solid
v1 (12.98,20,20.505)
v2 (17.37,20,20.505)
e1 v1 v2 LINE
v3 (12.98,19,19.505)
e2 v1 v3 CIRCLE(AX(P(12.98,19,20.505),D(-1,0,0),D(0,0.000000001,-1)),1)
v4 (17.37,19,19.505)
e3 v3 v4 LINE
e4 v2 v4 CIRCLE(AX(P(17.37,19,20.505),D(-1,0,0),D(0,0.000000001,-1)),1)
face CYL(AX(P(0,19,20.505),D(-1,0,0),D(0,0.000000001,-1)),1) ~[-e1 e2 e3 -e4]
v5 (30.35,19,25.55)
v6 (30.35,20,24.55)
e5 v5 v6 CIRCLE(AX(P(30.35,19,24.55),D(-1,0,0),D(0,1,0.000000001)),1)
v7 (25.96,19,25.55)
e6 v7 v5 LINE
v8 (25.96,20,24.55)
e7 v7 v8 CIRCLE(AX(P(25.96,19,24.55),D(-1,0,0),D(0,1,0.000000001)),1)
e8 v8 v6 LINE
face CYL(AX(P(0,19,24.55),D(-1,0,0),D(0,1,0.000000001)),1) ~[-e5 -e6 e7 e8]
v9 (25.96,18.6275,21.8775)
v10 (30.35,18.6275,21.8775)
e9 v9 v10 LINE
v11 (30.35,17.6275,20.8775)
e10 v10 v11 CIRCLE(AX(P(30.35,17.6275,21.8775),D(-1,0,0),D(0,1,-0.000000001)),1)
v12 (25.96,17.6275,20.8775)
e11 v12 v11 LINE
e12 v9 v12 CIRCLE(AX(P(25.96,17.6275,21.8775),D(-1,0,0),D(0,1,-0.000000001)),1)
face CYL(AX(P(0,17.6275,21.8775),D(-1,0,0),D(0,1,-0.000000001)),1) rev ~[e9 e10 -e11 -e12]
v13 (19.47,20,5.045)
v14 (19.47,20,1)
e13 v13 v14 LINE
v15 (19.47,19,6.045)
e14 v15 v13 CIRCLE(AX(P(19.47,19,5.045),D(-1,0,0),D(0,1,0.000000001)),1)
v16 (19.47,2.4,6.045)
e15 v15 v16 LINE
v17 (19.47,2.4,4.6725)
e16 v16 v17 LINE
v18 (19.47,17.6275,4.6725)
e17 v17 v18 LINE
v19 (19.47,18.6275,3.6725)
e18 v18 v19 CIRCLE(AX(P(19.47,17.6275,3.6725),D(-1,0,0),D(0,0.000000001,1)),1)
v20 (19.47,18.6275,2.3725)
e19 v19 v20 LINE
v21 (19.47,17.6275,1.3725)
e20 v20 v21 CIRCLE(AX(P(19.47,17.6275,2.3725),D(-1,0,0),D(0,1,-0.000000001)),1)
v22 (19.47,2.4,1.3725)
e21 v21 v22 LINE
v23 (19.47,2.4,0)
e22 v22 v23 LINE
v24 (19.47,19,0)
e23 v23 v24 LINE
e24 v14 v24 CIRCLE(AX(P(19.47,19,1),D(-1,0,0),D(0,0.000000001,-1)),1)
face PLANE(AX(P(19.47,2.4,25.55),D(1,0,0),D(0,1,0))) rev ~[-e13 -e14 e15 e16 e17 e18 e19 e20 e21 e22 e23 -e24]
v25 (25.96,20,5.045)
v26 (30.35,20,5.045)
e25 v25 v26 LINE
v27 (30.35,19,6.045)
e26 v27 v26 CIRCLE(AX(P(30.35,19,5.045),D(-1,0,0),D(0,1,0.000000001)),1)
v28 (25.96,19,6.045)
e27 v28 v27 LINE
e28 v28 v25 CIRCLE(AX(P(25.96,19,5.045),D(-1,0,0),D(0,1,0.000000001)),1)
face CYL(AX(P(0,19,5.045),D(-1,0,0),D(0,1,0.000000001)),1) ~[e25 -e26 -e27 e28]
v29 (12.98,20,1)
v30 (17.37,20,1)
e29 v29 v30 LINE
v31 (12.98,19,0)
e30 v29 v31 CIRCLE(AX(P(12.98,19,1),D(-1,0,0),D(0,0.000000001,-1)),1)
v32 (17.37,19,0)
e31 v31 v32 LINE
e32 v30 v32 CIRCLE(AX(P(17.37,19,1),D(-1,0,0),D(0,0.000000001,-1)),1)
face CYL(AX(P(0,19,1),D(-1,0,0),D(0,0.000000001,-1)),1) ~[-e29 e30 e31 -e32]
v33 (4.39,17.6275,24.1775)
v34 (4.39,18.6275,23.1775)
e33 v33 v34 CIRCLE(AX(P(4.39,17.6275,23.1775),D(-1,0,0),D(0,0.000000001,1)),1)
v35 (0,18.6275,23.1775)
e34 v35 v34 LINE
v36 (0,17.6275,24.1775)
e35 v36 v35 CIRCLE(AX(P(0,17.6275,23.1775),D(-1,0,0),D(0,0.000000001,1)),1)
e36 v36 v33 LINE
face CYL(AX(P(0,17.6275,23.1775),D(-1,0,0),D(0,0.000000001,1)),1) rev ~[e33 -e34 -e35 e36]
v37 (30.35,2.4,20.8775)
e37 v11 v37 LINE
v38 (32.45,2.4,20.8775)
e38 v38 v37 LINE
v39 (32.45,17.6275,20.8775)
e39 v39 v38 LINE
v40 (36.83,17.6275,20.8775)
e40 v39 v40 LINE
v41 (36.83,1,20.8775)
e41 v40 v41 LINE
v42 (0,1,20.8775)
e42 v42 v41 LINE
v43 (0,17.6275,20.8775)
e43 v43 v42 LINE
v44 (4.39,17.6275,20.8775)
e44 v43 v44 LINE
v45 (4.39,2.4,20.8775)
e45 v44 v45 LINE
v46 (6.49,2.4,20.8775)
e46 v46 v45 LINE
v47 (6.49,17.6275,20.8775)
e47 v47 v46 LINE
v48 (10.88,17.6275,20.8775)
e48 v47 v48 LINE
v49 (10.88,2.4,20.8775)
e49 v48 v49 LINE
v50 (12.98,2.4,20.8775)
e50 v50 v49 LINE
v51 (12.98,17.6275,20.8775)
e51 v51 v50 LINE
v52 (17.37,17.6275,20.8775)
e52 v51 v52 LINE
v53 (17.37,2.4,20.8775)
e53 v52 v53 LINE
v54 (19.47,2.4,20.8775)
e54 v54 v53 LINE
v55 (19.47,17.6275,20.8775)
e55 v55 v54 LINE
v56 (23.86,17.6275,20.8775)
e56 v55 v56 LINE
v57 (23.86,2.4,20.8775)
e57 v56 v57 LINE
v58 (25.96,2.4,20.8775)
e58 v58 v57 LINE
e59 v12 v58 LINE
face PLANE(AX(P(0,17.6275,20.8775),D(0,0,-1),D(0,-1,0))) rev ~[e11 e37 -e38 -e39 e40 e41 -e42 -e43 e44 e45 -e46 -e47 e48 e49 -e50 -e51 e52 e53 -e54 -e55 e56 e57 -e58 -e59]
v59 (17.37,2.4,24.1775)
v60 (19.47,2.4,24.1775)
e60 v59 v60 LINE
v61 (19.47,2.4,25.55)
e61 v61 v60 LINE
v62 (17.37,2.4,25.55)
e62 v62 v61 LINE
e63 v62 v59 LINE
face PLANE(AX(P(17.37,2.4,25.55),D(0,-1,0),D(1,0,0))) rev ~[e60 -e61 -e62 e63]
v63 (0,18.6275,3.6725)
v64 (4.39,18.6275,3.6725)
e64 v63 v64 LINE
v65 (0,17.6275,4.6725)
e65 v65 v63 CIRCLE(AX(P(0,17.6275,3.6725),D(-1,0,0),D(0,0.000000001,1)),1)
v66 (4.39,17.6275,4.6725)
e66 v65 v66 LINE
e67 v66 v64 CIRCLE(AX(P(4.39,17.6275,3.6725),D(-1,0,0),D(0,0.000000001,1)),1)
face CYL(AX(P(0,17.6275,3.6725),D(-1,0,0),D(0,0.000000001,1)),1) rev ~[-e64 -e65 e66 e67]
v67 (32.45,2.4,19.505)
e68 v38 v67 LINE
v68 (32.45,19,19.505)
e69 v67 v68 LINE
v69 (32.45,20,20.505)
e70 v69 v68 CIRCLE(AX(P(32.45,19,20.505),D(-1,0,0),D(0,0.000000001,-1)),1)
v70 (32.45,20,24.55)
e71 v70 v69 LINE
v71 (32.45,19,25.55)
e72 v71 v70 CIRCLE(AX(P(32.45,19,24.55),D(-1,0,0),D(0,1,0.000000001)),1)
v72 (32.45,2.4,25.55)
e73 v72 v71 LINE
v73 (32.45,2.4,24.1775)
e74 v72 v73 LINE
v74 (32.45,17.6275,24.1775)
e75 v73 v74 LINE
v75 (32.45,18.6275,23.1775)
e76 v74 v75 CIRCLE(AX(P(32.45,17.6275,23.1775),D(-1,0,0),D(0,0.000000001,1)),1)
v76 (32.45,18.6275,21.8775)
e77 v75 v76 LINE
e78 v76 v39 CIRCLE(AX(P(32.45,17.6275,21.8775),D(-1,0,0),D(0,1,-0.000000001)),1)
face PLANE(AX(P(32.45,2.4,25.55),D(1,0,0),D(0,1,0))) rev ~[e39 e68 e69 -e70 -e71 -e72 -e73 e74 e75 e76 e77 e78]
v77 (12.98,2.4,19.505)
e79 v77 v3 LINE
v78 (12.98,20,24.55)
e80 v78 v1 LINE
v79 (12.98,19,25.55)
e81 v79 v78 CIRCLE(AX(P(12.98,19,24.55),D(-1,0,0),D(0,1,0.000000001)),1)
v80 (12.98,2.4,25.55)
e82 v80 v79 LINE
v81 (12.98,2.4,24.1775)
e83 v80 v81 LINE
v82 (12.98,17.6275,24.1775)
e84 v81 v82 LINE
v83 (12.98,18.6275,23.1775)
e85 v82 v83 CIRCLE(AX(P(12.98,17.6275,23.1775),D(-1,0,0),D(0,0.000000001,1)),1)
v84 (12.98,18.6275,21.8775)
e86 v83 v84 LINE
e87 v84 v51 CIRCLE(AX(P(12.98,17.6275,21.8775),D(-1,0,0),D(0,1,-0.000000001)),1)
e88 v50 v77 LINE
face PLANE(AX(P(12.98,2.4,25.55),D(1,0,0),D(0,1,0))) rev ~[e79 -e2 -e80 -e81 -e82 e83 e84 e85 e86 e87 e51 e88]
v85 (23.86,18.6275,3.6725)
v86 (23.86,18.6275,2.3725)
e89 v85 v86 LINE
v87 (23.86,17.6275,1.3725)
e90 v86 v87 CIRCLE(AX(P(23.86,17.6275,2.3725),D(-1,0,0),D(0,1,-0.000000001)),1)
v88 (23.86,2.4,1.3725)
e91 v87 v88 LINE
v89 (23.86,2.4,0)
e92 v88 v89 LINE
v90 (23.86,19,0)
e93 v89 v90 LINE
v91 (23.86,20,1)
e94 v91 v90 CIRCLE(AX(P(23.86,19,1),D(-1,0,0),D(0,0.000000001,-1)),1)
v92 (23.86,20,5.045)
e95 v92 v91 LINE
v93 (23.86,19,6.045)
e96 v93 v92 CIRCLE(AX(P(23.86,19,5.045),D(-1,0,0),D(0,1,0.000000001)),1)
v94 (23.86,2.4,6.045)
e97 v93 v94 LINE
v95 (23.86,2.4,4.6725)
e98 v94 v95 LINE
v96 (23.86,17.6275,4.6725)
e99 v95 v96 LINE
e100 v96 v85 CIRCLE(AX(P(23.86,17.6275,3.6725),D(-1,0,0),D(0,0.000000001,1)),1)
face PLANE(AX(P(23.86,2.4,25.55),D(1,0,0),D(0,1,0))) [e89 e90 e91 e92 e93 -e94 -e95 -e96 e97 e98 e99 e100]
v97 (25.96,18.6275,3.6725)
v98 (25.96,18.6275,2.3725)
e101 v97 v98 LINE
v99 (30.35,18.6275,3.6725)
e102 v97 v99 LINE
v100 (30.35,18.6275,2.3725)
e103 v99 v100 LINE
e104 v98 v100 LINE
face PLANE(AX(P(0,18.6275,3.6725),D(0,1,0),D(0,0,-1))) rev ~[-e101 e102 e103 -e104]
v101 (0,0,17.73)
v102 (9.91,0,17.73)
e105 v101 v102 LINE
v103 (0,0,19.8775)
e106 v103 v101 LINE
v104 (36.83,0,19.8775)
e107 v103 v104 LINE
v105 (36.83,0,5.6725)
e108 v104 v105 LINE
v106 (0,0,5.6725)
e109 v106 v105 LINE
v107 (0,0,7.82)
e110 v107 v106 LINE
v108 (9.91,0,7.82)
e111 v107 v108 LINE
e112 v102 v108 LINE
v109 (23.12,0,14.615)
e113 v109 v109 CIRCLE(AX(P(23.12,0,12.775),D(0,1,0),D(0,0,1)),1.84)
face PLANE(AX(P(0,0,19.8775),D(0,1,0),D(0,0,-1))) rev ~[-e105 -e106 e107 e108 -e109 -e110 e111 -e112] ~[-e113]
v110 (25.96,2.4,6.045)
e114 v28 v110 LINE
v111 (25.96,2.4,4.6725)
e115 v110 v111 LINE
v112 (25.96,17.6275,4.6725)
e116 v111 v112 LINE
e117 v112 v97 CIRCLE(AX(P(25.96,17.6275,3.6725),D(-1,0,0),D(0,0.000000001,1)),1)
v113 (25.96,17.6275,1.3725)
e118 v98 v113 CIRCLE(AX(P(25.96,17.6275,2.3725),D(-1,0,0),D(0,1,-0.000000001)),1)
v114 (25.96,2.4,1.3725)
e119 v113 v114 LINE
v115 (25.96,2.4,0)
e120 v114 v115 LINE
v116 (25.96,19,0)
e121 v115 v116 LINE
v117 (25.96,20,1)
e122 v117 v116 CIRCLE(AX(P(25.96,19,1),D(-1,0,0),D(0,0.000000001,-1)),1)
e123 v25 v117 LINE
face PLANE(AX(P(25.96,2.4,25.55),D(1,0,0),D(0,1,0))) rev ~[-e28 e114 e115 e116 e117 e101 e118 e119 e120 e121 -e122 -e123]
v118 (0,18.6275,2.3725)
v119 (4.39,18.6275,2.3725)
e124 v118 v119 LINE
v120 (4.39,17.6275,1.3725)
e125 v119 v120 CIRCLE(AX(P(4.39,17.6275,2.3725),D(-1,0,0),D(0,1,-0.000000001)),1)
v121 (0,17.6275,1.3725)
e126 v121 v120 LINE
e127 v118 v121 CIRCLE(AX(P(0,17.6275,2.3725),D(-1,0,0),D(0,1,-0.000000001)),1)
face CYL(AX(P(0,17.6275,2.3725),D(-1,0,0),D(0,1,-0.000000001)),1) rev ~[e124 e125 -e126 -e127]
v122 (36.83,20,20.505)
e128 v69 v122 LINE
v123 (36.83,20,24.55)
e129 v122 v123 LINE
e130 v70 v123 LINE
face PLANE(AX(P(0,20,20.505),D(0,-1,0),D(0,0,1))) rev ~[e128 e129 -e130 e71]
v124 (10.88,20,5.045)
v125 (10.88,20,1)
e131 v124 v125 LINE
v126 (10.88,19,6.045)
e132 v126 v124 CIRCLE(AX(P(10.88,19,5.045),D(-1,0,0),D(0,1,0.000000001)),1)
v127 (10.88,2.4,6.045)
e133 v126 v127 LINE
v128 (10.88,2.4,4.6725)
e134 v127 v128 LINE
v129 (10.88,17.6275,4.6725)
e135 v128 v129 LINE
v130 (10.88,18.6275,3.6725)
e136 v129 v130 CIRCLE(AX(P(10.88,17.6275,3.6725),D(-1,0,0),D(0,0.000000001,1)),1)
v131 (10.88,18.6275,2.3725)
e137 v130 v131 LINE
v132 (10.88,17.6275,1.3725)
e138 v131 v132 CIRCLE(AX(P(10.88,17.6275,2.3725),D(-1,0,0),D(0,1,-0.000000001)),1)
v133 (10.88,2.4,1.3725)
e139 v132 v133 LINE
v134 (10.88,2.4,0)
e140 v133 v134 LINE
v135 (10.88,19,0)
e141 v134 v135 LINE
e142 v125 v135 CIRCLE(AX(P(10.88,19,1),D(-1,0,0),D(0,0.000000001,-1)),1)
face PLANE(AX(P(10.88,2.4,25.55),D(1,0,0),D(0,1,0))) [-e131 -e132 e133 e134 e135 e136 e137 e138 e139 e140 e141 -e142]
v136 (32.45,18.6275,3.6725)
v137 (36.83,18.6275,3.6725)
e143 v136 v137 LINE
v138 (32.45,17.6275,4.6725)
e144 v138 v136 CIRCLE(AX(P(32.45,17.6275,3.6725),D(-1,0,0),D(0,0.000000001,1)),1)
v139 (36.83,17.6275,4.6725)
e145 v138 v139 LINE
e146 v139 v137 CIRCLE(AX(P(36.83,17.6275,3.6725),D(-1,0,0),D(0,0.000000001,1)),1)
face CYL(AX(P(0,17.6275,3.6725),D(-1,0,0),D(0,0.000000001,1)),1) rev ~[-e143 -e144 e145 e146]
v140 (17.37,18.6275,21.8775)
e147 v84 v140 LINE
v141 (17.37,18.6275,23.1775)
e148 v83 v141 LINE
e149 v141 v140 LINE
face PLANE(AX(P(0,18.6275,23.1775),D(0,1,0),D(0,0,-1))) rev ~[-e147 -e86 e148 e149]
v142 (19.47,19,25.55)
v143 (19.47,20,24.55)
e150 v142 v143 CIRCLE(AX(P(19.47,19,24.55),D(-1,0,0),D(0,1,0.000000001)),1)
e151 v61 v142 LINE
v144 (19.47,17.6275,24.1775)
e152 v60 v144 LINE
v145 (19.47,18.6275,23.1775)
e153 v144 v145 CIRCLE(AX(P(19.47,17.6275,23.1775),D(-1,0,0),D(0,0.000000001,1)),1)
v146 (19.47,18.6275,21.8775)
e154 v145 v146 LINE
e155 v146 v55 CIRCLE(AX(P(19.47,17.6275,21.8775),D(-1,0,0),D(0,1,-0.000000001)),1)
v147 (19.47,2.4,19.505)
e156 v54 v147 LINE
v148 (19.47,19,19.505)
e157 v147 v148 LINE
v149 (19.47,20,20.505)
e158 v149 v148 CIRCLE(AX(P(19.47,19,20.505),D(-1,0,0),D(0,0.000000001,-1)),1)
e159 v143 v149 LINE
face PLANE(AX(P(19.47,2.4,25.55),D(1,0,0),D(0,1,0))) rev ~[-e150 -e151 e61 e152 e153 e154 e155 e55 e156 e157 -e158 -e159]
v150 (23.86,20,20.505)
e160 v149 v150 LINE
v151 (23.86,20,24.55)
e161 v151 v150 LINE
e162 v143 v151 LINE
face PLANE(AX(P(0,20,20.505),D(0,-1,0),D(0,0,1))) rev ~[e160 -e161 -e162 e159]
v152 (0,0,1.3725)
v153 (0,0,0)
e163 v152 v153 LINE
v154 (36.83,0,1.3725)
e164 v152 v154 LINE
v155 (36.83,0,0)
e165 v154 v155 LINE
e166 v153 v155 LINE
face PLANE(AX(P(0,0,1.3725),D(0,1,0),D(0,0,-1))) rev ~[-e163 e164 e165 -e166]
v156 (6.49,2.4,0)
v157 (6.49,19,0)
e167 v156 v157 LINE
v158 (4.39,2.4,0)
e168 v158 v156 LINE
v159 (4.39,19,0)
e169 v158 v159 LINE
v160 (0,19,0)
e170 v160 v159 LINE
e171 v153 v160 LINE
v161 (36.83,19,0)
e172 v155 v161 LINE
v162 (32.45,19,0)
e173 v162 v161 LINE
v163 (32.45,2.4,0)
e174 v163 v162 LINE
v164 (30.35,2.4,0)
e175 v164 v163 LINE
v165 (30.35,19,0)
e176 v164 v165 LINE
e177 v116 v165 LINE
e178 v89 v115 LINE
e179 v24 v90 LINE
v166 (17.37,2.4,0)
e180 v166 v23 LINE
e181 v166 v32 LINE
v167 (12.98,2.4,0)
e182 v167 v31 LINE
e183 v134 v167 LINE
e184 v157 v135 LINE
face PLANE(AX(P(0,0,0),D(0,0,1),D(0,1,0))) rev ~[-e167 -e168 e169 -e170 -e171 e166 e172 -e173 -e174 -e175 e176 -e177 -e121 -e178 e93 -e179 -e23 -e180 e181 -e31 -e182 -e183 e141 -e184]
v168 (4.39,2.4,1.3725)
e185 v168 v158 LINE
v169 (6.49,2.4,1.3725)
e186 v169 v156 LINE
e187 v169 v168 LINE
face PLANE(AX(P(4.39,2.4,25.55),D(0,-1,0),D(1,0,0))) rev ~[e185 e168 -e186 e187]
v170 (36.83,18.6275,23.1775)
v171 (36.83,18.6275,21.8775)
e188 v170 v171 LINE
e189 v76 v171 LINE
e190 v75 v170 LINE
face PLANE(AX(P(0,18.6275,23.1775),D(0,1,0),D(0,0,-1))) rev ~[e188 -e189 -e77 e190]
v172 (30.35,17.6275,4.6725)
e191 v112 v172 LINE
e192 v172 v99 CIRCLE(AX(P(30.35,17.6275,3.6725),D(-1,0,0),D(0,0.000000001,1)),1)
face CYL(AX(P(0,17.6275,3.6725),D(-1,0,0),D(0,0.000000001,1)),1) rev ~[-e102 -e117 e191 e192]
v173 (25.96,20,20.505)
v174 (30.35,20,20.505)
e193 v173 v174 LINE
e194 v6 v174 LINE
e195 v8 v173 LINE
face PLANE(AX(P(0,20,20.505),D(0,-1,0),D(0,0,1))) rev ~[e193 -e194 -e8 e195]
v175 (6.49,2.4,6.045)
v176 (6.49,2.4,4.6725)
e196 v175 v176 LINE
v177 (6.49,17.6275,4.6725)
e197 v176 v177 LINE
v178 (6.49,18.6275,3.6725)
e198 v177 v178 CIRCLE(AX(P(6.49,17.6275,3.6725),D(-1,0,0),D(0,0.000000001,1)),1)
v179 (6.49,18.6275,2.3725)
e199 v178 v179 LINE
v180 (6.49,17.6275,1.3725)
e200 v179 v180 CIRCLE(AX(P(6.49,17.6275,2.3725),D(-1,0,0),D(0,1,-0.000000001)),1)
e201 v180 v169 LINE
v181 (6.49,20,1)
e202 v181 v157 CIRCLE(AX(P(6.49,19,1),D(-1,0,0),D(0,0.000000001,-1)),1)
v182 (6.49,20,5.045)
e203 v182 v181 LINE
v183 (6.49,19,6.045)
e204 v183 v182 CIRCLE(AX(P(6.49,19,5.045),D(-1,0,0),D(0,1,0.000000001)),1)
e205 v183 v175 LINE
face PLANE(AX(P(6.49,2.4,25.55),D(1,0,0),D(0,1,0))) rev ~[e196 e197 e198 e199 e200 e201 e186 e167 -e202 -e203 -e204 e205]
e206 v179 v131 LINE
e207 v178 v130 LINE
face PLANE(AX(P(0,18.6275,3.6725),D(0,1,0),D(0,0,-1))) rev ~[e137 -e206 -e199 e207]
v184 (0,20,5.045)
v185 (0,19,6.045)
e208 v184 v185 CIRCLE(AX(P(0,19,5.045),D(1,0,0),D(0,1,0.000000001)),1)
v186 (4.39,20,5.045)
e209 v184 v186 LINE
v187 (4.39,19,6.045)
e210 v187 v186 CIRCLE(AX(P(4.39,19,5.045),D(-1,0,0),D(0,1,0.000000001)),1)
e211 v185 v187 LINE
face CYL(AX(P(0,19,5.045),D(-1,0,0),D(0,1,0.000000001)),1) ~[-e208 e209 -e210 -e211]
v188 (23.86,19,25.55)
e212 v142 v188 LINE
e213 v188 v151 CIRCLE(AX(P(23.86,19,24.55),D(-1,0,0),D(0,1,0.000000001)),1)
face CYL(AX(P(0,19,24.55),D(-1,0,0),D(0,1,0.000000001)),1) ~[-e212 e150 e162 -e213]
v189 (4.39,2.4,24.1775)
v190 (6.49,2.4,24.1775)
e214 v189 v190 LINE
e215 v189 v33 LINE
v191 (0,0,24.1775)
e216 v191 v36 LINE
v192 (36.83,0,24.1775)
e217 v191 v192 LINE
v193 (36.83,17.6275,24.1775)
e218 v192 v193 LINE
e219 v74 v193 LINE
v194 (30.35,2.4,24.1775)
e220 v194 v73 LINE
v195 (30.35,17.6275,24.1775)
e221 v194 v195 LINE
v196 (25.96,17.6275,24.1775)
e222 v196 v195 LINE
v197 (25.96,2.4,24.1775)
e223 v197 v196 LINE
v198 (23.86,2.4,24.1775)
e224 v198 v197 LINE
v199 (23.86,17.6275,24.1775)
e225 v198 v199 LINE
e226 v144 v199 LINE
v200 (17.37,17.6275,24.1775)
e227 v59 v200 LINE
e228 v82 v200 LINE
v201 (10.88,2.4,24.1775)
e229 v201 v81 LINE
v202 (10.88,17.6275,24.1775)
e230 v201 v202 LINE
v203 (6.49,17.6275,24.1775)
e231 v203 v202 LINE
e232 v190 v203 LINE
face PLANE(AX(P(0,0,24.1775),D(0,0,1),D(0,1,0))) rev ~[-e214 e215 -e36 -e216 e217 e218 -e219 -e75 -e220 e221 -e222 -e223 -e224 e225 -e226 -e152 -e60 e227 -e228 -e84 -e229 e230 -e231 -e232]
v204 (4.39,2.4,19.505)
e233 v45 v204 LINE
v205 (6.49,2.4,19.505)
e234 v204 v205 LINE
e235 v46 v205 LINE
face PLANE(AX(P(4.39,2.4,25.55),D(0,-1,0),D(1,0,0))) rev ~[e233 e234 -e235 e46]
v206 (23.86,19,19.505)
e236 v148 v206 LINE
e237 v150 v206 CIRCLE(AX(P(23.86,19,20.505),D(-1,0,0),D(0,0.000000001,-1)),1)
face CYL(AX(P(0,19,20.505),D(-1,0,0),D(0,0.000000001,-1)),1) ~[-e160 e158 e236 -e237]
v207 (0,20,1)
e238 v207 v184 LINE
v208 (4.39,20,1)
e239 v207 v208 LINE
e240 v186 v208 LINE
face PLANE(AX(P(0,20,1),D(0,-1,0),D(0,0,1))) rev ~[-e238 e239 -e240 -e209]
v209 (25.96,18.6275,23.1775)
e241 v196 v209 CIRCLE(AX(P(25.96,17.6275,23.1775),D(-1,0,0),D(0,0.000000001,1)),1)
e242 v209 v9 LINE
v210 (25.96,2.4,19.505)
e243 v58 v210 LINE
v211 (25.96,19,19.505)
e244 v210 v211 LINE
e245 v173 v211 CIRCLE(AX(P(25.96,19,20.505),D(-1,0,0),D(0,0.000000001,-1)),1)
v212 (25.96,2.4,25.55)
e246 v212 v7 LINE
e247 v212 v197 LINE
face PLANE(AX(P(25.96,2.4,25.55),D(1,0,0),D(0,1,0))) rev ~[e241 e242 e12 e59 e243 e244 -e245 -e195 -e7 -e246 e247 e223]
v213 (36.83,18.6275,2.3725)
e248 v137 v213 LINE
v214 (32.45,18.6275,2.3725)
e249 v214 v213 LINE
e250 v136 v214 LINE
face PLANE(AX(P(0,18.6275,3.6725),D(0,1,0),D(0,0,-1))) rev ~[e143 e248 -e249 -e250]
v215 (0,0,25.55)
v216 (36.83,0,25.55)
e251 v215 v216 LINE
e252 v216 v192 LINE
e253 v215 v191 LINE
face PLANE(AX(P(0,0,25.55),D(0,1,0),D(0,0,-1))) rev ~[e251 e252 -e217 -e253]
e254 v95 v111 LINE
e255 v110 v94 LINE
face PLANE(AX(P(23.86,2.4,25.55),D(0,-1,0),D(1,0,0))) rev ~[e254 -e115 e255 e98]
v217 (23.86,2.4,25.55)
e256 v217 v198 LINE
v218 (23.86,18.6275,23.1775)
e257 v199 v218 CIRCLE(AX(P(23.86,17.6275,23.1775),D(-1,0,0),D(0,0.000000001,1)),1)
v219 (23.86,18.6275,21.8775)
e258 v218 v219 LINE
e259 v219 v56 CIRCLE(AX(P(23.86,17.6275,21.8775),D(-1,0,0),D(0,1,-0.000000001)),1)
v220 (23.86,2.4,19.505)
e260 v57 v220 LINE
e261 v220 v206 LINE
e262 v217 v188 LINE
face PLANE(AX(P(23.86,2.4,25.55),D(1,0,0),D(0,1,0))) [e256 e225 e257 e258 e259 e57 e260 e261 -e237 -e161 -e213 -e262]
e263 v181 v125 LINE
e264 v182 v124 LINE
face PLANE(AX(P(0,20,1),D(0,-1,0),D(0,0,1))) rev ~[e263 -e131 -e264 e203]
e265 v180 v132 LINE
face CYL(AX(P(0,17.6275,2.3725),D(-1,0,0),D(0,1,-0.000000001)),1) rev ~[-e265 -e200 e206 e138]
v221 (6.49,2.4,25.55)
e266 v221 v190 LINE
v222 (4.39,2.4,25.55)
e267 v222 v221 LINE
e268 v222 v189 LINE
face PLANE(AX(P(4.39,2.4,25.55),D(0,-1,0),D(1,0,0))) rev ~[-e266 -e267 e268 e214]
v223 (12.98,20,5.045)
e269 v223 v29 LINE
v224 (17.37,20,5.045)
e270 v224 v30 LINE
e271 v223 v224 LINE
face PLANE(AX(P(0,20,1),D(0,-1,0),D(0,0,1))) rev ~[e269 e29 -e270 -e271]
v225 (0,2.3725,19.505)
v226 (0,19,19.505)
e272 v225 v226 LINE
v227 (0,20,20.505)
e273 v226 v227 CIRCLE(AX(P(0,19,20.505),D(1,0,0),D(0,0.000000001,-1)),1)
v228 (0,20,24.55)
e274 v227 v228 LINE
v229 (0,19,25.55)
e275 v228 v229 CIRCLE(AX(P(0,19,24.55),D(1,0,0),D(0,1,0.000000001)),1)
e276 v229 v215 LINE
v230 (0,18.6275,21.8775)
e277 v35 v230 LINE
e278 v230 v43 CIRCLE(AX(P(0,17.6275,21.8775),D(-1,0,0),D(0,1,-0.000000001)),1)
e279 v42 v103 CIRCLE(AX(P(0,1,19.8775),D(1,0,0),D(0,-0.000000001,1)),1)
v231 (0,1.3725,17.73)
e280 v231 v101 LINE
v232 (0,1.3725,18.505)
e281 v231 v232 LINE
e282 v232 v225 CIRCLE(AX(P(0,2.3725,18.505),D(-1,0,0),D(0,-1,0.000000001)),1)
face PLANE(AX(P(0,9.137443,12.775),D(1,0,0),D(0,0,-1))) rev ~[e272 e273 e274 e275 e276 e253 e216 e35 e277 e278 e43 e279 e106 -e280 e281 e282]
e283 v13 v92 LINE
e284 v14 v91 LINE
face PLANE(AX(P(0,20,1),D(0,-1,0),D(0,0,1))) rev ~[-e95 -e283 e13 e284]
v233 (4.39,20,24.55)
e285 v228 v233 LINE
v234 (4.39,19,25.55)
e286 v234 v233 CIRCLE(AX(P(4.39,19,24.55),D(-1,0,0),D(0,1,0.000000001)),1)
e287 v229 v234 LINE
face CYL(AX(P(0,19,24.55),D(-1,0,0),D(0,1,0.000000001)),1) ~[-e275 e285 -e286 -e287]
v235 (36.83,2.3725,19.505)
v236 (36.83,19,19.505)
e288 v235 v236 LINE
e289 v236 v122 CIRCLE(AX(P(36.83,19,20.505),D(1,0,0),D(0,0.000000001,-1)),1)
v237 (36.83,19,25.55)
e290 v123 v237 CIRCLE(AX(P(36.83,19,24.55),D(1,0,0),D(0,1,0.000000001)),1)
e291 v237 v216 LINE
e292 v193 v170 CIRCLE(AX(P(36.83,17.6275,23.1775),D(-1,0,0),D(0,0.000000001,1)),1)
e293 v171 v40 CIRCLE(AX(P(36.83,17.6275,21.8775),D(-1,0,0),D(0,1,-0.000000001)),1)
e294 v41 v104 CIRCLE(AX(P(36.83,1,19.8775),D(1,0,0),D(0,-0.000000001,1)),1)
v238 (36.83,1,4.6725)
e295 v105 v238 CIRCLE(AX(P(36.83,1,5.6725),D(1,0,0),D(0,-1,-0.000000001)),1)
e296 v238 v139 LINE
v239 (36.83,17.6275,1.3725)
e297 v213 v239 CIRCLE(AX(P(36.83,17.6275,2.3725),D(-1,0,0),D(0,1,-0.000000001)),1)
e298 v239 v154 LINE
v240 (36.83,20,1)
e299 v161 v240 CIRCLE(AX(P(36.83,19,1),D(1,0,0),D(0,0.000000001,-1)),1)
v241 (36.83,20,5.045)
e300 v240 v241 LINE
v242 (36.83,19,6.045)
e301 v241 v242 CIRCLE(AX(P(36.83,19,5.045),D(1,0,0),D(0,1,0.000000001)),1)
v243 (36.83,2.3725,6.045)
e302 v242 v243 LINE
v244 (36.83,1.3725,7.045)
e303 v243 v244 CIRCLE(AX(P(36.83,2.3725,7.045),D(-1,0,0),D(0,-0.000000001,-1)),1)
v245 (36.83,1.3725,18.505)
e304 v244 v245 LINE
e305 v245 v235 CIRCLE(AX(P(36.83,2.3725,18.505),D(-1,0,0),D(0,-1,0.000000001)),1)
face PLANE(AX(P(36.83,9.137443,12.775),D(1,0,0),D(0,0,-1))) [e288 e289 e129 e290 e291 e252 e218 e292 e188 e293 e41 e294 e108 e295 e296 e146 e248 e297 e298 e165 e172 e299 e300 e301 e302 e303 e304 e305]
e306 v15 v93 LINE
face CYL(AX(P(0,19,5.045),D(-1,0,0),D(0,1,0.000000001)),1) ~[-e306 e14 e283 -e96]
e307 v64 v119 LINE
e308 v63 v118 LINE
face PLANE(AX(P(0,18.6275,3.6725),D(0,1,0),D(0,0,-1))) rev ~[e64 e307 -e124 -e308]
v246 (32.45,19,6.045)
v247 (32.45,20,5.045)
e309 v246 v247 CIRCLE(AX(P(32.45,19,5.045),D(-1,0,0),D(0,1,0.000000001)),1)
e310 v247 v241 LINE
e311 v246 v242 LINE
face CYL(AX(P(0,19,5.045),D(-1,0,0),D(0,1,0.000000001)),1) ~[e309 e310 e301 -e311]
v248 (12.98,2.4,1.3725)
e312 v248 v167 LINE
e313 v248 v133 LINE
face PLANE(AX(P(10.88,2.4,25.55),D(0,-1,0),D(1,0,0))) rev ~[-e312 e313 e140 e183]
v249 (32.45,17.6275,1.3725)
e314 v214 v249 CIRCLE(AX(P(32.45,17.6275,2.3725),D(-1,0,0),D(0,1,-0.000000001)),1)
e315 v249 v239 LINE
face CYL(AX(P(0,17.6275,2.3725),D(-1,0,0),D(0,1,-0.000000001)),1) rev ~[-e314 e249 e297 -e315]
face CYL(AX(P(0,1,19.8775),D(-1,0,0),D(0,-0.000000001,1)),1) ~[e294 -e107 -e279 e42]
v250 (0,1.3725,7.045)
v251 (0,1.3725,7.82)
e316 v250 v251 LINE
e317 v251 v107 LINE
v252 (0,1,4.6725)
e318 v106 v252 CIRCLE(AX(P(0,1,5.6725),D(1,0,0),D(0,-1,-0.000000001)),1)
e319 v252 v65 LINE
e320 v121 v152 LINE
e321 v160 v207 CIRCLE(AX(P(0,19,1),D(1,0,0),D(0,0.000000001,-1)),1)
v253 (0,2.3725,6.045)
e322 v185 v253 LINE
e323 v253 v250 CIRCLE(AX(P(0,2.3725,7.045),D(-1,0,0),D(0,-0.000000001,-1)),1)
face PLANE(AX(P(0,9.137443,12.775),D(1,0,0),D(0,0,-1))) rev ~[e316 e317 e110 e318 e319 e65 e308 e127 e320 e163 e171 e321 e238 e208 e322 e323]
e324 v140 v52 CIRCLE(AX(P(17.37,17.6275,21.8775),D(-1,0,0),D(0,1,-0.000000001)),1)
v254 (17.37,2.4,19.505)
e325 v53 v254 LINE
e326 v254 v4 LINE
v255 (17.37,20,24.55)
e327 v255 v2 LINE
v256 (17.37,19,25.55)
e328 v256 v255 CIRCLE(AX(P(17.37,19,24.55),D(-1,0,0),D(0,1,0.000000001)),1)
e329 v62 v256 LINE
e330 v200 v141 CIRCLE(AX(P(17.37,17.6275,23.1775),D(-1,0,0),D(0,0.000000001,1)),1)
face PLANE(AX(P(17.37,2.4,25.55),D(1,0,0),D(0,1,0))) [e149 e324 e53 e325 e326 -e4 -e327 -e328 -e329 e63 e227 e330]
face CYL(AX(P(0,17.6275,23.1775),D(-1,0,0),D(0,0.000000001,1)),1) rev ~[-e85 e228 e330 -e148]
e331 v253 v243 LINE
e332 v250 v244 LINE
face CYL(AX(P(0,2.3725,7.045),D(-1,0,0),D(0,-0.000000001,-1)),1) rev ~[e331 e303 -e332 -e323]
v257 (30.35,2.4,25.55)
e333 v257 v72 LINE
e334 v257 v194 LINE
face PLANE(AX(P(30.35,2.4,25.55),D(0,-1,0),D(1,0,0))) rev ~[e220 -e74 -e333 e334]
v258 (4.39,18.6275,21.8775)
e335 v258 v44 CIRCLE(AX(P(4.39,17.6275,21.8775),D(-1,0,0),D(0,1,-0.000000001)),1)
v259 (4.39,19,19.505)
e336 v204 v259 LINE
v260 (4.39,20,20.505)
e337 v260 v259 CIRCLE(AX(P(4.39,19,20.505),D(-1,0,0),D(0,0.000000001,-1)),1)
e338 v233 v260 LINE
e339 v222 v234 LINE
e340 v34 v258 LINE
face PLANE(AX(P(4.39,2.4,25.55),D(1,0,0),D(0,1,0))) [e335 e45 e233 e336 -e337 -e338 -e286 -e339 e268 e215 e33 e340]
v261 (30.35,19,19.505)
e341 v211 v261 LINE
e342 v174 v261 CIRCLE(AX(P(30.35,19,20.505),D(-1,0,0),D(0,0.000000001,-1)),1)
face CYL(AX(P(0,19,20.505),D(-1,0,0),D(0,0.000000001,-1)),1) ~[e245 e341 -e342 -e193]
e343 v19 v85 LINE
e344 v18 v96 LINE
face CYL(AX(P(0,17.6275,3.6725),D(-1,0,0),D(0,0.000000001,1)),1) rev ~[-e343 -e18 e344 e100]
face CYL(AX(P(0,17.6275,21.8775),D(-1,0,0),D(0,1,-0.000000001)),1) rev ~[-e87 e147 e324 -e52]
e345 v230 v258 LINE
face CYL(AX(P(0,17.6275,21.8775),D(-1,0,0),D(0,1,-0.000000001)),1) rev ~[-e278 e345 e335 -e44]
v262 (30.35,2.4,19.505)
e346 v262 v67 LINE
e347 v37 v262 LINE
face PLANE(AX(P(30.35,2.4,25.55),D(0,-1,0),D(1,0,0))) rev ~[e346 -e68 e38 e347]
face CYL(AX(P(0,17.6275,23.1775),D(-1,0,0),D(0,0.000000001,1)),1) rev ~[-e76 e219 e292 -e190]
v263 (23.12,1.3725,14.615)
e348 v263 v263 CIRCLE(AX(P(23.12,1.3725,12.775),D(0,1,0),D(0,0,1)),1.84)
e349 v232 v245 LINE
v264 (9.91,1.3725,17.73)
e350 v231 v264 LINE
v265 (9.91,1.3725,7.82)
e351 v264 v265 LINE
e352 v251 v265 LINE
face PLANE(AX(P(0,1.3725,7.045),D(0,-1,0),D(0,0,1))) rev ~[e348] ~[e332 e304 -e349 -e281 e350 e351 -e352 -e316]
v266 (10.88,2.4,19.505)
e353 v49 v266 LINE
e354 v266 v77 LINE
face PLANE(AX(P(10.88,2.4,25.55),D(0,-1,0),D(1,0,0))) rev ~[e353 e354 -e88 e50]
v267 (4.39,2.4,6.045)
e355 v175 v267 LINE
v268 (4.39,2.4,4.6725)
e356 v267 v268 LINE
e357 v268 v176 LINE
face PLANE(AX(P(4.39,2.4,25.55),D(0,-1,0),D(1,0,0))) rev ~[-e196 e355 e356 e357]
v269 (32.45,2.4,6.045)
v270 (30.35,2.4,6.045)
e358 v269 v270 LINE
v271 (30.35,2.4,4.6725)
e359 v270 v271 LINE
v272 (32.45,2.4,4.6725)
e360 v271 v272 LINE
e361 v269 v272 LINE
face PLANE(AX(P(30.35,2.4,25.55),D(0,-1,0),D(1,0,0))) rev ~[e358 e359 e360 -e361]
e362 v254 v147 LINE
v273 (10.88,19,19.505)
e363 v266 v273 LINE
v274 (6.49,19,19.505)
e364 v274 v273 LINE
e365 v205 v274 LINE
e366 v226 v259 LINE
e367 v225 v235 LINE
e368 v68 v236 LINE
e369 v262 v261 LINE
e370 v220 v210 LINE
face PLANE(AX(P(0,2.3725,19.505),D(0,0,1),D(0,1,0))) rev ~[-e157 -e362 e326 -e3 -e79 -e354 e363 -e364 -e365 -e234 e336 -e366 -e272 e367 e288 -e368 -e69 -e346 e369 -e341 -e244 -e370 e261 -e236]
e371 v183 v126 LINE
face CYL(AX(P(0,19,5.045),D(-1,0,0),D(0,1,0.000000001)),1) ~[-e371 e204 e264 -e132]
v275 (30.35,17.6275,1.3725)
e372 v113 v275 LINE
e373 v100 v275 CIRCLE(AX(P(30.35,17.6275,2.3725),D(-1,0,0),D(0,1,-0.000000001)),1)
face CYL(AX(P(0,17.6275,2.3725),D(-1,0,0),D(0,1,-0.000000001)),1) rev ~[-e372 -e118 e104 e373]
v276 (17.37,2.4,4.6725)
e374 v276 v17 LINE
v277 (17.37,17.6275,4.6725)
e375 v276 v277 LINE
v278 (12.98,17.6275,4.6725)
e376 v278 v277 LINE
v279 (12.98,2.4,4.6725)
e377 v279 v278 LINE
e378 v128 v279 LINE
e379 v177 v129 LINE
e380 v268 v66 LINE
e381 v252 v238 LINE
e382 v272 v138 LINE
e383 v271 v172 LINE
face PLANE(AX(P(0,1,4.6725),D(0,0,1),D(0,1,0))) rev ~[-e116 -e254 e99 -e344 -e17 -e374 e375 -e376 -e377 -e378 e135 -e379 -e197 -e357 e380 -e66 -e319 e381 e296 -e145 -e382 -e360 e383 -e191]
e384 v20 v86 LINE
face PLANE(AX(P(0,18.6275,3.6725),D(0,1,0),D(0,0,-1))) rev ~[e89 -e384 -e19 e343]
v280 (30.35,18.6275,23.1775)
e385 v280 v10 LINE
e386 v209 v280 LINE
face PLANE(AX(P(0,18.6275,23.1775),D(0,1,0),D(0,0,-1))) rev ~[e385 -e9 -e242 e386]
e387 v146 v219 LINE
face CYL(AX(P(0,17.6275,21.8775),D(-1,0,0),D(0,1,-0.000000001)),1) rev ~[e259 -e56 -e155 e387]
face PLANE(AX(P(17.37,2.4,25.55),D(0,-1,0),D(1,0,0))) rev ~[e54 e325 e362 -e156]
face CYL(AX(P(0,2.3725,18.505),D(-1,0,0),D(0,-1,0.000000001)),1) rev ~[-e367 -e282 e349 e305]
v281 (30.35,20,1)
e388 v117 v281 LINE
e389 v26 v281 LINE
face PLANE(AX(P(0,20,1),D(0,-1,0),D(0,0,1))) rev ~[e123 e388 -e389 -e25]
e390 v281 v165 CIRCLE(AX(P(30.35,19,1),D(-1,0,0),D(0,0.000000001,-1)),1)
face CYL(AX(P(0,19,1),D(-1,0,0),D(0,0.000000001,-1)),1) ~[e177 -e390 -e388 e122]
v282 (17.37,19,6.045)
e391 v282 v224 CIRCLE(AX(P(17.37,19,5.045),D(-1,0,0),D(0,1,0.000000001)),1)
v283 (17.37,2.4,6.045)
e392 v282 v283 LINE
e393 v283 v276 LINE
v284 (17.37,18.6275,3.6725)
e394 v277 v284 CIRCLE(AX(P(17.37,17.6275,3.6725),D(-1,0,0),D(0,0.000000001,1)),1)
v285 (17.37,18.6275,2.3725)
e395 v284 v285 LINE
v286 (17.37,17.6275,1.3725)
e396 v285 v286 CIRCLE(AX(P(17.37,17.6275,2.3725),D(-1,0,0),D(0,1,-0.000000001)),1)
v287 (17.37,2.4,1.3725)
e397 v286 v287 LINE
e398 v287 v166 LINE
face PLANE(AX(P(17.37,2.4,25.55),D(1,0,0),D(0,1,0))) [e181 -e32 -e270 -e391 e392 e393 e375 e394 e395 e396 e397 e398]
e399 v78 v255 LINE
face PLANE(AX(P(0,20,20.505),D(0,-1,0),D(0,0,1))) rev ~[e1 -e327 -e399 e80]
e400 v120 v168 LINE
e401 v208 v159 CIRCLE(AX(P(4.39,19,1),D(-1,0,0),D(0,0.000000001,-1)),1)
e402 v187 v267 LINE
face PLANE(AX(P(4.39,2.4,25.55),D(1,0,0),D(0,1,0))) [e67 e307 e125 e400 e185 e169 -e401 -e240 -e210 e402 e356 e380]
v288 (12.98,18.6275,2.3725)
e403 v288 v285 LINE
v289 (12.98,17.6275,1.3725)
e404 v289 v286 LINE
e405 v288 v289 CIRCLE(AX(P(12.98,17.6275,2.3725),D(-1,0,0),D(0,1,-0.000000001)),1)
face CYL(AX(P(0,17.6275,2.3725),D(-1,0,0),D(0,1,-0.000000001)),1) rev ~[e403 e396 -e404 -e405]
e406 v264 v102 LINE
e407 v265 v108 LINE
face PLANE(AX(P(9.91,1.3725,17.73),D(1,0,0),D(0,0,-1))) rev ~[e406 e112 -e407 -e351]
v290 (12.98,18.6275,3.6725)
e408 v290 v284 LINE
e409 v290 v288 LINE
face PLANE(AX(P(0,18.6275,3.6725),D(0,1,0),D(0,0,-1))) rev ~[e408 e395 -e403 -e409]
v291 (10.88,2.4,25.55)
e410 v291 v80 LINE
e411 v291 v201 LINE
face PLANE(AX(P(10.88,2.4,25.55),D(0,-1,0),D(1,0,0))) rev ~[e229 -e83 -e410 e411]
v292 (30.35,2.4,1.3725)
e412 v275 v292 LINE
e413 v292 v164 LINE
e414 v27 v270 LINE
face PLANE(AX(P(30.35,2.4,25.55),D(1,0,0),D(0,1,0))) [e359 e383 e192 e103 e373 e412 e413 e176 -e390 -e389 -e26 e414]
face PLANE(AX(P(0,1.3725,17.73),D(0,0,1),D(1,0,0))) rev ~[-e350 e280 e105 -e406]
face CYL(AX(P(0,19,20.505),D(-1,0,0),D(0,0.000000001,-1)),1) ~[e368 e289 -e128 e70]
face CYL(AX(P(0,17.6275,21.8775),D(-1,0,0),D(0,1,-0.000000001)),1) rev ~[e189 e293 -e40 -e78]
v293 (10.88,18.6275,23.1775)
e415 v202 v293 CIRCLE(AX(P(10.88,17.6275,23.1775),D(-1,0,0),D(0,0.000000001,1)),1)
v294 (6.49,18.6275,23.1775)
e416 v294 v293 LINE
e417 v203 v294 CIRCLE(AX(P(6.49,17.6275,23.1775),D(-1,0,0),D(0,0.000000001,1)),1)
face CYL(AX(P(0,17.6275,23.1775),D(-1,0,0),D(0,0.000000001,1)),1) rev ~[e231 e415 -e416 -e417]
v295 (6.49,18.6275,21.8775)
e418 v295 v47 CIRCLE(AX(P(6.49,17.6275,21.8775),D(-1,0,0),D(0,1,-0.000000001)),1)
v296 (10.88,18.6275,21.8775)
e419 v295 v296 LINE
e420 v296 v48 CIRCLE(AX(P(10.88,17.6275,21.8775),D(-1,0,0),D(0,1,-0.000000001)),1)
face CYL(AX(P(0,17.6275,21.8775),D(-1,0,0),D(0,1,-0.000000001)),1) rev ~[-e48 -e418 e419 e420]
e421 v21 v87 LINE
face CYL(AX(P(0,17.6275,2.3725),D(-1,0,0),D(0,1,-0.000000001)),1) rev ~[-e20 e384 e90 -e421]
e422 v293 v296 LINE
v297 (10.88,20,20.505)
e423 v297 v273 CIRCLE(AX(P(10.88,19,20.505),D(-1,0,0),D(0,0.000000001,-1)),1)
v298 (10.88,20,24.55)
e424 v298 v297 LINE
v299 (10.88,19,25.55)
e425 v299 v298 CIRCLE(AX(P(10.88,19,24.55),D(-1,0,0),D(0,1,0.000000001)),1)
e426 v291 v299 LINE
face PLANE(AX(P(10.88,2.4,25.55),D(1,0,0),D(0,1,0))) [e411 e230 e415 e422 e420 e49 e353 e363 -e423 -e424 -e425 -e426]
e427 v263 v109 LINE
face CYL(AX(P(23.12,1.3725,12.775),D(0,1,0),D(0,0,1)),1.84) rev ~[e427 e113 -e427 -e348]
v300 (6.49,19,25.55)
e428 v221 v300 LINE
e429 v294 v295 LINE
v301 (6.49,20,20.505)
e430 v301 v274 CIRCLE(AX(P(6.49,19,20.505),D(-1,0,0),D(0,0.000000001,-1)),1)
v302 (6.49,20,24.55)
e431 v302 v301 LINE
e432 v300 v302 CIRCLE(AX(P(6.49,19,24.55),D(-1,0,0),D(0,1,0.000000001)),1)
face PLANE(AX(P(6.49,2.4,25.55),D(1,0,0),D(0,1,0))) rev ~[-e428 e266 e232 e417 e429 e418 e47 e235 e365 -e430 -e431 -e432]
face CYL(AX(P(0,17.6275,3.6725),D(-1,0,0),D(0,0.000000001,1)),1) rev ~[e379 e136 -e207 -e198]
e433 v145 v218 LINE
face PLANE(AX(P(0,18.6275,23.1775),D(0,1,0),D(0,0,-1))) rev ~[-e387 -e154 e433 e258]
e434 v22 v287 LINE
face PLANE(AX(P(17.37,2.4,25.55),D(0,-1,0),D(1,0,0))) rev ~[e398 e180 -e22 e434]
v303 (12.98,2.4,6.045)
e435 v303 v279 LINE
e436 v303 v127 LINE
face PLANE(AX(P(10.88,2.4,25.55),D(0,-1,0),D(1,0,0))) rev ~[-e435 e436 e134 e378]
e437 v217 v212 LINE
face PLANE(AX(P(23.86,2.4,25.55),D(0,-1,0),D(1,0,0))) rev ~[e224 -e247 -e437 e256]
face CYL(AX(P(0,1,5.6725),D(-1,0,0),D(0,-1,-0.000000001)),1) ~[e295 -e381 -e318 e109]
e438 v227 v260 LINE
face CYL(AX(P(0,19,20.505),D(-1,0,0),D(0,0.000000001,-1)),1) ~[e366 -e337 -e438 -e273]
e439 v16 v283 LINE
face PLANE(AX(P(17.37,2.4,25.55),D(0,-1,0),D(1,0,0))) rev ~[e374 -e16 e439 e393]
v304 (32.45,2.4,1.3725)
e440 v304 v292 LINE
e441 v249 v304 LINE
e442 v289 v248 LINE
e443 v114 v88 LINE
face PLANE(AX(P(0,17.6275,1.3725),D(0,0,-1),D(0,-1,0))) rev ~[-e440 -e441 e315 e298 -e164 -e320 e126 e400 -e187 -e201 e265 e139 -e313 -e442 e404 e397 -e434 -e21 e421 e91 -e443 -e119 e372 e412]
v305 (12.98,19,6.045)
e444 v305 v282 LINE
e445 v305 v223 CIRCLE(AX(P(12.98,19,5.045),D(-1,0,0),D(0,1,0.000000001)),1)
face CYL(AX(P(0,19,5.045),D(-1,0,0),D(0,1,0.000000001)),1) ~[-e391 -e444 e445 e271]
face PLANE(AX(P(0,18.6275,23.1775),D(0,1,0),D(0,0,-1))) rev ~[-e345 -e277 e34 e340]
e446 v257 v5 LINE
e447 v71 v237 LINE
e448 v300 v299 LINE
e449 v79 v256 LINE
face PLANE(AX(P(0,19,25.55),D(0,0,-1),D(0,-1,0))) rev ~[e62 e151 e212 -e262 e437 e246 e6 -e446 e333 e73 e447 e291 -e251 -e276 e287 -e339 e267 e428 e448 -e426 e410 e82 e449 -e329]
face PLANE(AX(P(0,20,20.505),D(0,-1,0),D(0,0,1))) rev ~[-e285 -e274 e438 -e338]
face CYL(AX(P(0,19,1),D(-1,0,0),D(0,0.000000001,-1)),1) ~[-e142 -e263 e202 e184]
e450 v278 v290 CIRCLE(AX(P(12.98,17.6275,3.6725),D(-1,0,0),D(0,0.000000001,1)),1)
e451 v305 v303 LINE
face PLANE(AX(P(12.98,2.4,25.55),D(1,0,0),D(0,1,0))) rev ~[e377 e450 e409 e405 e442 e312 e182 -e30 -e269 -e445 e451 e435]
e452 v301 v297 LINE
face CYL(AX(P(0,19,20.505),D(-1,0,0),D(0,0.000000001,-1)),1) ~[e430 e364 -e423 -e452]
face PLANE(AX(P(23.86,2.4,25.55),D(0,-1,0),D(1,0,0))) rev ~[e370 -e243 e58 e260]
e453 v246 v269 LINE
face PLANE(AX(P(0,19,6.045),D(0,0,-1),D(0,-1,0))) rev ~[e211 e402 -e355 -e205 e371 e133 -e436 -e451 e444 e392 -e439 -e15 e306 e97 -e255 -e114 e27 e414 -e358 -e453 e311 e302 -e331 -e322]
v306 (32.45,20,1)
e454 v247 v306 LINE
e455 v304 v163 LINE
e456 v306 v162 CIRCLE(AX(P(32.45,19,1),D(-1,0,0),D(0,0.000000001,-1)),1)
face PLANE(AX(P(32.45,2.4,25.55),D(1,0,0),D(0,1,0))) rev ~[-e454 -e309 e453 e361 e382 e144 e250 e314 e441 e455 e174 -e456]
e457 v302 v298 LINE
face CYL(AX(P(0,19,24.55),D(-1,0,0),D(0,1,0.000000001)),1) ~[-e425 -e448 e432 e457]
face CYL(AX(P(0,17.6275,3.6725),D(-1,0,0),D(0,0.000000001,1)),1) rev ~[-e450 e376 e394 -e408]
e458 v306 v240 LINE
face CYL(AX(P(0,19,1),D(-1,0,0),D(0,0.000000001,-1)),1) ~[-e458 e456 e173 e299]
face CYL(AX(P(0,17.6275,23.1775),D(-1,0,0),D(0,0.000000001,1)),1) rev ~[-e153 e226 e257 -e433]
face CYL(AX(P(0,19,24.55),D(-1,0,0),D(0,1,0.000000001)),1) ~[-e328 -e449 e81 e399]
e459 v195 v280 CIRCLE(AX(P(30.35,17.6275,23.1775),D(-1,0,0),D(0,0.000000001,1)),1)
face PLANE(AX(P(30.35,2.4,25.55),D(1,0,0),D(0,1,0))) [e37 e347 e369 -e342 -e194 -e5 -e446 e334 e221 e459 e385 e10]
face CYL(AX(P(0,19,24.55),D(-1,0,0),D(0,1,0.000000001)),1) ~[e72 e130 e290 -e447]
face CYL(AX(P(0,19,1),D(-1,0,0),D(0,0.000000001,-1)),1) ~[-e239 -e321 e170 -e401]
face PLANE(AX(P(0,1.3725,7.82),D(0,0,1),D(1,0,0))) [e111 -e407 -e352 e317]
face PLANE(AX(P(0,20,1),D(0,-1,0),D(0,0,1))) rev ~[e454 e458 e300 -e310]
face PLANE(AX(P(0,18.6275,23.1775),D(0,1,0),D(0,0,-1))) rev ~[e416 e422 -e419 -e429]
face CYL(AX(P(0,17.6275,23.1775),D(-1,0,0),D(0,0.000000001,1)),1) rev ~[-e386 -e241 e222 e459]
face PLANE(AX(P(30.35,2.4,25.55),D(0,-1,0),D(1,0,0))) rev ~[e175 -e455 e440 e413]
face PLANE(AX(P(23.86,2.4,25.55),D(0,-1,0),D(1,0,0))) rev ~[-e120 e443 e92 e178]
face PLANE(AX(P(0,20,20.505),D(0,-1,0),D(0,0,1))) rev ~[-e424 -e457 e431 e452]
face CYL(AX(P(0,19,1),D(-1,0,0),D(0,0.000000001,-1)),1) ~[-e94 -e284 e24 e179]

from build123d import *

# Parameters (mm, degrees)
SALIENTE_EXTRUIR1_DEPTH = 36.83
CROQUIS2_R              = 1.84
CROQUIS2_W              = 9.91
CROQUIS2_H              = 9.91
CORTAR_EXTRUIR1_DEPTH   = 49.541066699
CROQUIS3_W              = 2.1
CROQUIS3_H              = 17.6
CORTAR_EXTRUIR2_DEPTH   = 50.084125743


with BuildPart() as part:
    # Croquis1 → Saliente-Extruir1 (new body)
    with BuildSketch(Plane(origin=(0, 0, 0), x_dir=(0, 0, -1), z_dir=(1, 0, 0))):
        with BuildLine():
            Line((0, 0), (0, 19))
            ThreePointArc((0, 19), (-0.292893219, 19.707106781), (-1, 20))
            Line((-1, 20), (-5.045, 20))
            ThreePointArc((-5.045, 20), (-5.752106781, 19.707106781), (-6.045, 19))
            Line((-6.045, 19), (-6.045, 2.3725))
            ThreePointArc((-6.045, 2.3725), (-6.337893219, 1.665393219), (-7.045, 1.3725))
            Line((-7.045, 1.3725), (-18.505, 1.3725))
            ThreePointArc((-18.505, 1.3725), (-19.212106781, 1.665393219), (-19.505, 2.3725))
            Line((-19.505, 2.3725), (-19.505, 19))
            ThreePointArc((-19.505, 19), (-19.797893219, 19.707106781), (-20.505, 20))
            Line((-20.505, 20), (-24.55, 20))
            ThreePointArc((-24.55, 20), (-25.257106781, 19.707106781), (-25.55, 19))
            Line((-25.55, 19), (-25.55, 0))
            Line((-25.55, 0), (-24.1775, 0))
            Line((-24.1775, 0), (-24.1775, 17.6275))
            ThreePointArc((-24.1775, 17.6275), (-23.884606781, 18.334606781), (-23.1775, 18.6275))
            Line((-23.1775, 18.6275), (-21.8775, 18.6275))
            ThreePointArc((-21.8775, 18.6275), (-21.170393219, 18.334606781), (-20.8775, 17.6275))
            Line((-20.8775, 17.6275), (-20.8775, 1))
            ThreePointArc((-20.8775, 1), (-20.584606781, 0.292893219), (-19.8775, 0))
            Line((-19.8775, 0), (-5.6725, 0))
            ThreePointArc((-5.6725, 0), (-4.965393219, 0.292893219), (-4.6725, 1))
            Line((-4.6725, 1), (-4.6725, 17.6275))
            ThreePointArc((-4.6725, 17.6275), (-4.379606781, 18.334606781), (-3.6725, 18.6275))
            Line((-3.6725, 18.6275), (-2.3725, 18.6275))
            ThreePointArc((-2.3725, 18.6275), (-1.665393219, 18.334606781), (-1.3725, 17.6275))
            Line((-1.3725, 17.6275), (-1.3725, 0))
            Line((-1.3725, 0), (0, 0))
        make_face()
    extrude(amount=SALIENTE_EXTRUIR1_DEPTH)

    # Croquis2 → Cortar-Extruir1 (cut, through all)
    with BuildSketch(Plane(origin=(0, 1.3725, 0), x_dir=(1, 0, 0), z_dir=(0, 1, 0))):
        with Locations(Location((23.12, -12.775, 0), (0, 0, 270))):
            Circle(CROQUIS2_R)
        with Locations((4.955, -12.775)):
            Rectangle(CROQUIS2_W, CROQUIS2_H)
    extrude(amount=-CORTAR_EXTRUIR1_DEPTH, mode=Mode.SUBTRACT)

    # Croquis3 → Cortar-Extruir2 (cut, through all)
    with BuildSketch(Plane.XY.offset(25.55)):
        with Locations((5.44, 11.2)):
            Rectangle(CROQUIS3_W, CROQUIS3_H)
        with Locations((11.93, 11.2)):
            Rectangle(CROQUIS3_W, CROQUIS3_H)
        with Locations((18.42, 11.2)):
            Rectangle(CROQUIS3_W, CROQUIS3_H)
        with Locations((24.91, 11.2)):
            Rectangle(CROQUIS3_W, CROQUIS3_H)
        with Locations((31.4, 11.2)):
            Rectangle(CROQUIS3_W, CROQUIS3_H)
    extrude(amount=-CORTAR_EXTRUIR2_DEPTH, mode=Mode.SUBTRACT)


solid = part.part
